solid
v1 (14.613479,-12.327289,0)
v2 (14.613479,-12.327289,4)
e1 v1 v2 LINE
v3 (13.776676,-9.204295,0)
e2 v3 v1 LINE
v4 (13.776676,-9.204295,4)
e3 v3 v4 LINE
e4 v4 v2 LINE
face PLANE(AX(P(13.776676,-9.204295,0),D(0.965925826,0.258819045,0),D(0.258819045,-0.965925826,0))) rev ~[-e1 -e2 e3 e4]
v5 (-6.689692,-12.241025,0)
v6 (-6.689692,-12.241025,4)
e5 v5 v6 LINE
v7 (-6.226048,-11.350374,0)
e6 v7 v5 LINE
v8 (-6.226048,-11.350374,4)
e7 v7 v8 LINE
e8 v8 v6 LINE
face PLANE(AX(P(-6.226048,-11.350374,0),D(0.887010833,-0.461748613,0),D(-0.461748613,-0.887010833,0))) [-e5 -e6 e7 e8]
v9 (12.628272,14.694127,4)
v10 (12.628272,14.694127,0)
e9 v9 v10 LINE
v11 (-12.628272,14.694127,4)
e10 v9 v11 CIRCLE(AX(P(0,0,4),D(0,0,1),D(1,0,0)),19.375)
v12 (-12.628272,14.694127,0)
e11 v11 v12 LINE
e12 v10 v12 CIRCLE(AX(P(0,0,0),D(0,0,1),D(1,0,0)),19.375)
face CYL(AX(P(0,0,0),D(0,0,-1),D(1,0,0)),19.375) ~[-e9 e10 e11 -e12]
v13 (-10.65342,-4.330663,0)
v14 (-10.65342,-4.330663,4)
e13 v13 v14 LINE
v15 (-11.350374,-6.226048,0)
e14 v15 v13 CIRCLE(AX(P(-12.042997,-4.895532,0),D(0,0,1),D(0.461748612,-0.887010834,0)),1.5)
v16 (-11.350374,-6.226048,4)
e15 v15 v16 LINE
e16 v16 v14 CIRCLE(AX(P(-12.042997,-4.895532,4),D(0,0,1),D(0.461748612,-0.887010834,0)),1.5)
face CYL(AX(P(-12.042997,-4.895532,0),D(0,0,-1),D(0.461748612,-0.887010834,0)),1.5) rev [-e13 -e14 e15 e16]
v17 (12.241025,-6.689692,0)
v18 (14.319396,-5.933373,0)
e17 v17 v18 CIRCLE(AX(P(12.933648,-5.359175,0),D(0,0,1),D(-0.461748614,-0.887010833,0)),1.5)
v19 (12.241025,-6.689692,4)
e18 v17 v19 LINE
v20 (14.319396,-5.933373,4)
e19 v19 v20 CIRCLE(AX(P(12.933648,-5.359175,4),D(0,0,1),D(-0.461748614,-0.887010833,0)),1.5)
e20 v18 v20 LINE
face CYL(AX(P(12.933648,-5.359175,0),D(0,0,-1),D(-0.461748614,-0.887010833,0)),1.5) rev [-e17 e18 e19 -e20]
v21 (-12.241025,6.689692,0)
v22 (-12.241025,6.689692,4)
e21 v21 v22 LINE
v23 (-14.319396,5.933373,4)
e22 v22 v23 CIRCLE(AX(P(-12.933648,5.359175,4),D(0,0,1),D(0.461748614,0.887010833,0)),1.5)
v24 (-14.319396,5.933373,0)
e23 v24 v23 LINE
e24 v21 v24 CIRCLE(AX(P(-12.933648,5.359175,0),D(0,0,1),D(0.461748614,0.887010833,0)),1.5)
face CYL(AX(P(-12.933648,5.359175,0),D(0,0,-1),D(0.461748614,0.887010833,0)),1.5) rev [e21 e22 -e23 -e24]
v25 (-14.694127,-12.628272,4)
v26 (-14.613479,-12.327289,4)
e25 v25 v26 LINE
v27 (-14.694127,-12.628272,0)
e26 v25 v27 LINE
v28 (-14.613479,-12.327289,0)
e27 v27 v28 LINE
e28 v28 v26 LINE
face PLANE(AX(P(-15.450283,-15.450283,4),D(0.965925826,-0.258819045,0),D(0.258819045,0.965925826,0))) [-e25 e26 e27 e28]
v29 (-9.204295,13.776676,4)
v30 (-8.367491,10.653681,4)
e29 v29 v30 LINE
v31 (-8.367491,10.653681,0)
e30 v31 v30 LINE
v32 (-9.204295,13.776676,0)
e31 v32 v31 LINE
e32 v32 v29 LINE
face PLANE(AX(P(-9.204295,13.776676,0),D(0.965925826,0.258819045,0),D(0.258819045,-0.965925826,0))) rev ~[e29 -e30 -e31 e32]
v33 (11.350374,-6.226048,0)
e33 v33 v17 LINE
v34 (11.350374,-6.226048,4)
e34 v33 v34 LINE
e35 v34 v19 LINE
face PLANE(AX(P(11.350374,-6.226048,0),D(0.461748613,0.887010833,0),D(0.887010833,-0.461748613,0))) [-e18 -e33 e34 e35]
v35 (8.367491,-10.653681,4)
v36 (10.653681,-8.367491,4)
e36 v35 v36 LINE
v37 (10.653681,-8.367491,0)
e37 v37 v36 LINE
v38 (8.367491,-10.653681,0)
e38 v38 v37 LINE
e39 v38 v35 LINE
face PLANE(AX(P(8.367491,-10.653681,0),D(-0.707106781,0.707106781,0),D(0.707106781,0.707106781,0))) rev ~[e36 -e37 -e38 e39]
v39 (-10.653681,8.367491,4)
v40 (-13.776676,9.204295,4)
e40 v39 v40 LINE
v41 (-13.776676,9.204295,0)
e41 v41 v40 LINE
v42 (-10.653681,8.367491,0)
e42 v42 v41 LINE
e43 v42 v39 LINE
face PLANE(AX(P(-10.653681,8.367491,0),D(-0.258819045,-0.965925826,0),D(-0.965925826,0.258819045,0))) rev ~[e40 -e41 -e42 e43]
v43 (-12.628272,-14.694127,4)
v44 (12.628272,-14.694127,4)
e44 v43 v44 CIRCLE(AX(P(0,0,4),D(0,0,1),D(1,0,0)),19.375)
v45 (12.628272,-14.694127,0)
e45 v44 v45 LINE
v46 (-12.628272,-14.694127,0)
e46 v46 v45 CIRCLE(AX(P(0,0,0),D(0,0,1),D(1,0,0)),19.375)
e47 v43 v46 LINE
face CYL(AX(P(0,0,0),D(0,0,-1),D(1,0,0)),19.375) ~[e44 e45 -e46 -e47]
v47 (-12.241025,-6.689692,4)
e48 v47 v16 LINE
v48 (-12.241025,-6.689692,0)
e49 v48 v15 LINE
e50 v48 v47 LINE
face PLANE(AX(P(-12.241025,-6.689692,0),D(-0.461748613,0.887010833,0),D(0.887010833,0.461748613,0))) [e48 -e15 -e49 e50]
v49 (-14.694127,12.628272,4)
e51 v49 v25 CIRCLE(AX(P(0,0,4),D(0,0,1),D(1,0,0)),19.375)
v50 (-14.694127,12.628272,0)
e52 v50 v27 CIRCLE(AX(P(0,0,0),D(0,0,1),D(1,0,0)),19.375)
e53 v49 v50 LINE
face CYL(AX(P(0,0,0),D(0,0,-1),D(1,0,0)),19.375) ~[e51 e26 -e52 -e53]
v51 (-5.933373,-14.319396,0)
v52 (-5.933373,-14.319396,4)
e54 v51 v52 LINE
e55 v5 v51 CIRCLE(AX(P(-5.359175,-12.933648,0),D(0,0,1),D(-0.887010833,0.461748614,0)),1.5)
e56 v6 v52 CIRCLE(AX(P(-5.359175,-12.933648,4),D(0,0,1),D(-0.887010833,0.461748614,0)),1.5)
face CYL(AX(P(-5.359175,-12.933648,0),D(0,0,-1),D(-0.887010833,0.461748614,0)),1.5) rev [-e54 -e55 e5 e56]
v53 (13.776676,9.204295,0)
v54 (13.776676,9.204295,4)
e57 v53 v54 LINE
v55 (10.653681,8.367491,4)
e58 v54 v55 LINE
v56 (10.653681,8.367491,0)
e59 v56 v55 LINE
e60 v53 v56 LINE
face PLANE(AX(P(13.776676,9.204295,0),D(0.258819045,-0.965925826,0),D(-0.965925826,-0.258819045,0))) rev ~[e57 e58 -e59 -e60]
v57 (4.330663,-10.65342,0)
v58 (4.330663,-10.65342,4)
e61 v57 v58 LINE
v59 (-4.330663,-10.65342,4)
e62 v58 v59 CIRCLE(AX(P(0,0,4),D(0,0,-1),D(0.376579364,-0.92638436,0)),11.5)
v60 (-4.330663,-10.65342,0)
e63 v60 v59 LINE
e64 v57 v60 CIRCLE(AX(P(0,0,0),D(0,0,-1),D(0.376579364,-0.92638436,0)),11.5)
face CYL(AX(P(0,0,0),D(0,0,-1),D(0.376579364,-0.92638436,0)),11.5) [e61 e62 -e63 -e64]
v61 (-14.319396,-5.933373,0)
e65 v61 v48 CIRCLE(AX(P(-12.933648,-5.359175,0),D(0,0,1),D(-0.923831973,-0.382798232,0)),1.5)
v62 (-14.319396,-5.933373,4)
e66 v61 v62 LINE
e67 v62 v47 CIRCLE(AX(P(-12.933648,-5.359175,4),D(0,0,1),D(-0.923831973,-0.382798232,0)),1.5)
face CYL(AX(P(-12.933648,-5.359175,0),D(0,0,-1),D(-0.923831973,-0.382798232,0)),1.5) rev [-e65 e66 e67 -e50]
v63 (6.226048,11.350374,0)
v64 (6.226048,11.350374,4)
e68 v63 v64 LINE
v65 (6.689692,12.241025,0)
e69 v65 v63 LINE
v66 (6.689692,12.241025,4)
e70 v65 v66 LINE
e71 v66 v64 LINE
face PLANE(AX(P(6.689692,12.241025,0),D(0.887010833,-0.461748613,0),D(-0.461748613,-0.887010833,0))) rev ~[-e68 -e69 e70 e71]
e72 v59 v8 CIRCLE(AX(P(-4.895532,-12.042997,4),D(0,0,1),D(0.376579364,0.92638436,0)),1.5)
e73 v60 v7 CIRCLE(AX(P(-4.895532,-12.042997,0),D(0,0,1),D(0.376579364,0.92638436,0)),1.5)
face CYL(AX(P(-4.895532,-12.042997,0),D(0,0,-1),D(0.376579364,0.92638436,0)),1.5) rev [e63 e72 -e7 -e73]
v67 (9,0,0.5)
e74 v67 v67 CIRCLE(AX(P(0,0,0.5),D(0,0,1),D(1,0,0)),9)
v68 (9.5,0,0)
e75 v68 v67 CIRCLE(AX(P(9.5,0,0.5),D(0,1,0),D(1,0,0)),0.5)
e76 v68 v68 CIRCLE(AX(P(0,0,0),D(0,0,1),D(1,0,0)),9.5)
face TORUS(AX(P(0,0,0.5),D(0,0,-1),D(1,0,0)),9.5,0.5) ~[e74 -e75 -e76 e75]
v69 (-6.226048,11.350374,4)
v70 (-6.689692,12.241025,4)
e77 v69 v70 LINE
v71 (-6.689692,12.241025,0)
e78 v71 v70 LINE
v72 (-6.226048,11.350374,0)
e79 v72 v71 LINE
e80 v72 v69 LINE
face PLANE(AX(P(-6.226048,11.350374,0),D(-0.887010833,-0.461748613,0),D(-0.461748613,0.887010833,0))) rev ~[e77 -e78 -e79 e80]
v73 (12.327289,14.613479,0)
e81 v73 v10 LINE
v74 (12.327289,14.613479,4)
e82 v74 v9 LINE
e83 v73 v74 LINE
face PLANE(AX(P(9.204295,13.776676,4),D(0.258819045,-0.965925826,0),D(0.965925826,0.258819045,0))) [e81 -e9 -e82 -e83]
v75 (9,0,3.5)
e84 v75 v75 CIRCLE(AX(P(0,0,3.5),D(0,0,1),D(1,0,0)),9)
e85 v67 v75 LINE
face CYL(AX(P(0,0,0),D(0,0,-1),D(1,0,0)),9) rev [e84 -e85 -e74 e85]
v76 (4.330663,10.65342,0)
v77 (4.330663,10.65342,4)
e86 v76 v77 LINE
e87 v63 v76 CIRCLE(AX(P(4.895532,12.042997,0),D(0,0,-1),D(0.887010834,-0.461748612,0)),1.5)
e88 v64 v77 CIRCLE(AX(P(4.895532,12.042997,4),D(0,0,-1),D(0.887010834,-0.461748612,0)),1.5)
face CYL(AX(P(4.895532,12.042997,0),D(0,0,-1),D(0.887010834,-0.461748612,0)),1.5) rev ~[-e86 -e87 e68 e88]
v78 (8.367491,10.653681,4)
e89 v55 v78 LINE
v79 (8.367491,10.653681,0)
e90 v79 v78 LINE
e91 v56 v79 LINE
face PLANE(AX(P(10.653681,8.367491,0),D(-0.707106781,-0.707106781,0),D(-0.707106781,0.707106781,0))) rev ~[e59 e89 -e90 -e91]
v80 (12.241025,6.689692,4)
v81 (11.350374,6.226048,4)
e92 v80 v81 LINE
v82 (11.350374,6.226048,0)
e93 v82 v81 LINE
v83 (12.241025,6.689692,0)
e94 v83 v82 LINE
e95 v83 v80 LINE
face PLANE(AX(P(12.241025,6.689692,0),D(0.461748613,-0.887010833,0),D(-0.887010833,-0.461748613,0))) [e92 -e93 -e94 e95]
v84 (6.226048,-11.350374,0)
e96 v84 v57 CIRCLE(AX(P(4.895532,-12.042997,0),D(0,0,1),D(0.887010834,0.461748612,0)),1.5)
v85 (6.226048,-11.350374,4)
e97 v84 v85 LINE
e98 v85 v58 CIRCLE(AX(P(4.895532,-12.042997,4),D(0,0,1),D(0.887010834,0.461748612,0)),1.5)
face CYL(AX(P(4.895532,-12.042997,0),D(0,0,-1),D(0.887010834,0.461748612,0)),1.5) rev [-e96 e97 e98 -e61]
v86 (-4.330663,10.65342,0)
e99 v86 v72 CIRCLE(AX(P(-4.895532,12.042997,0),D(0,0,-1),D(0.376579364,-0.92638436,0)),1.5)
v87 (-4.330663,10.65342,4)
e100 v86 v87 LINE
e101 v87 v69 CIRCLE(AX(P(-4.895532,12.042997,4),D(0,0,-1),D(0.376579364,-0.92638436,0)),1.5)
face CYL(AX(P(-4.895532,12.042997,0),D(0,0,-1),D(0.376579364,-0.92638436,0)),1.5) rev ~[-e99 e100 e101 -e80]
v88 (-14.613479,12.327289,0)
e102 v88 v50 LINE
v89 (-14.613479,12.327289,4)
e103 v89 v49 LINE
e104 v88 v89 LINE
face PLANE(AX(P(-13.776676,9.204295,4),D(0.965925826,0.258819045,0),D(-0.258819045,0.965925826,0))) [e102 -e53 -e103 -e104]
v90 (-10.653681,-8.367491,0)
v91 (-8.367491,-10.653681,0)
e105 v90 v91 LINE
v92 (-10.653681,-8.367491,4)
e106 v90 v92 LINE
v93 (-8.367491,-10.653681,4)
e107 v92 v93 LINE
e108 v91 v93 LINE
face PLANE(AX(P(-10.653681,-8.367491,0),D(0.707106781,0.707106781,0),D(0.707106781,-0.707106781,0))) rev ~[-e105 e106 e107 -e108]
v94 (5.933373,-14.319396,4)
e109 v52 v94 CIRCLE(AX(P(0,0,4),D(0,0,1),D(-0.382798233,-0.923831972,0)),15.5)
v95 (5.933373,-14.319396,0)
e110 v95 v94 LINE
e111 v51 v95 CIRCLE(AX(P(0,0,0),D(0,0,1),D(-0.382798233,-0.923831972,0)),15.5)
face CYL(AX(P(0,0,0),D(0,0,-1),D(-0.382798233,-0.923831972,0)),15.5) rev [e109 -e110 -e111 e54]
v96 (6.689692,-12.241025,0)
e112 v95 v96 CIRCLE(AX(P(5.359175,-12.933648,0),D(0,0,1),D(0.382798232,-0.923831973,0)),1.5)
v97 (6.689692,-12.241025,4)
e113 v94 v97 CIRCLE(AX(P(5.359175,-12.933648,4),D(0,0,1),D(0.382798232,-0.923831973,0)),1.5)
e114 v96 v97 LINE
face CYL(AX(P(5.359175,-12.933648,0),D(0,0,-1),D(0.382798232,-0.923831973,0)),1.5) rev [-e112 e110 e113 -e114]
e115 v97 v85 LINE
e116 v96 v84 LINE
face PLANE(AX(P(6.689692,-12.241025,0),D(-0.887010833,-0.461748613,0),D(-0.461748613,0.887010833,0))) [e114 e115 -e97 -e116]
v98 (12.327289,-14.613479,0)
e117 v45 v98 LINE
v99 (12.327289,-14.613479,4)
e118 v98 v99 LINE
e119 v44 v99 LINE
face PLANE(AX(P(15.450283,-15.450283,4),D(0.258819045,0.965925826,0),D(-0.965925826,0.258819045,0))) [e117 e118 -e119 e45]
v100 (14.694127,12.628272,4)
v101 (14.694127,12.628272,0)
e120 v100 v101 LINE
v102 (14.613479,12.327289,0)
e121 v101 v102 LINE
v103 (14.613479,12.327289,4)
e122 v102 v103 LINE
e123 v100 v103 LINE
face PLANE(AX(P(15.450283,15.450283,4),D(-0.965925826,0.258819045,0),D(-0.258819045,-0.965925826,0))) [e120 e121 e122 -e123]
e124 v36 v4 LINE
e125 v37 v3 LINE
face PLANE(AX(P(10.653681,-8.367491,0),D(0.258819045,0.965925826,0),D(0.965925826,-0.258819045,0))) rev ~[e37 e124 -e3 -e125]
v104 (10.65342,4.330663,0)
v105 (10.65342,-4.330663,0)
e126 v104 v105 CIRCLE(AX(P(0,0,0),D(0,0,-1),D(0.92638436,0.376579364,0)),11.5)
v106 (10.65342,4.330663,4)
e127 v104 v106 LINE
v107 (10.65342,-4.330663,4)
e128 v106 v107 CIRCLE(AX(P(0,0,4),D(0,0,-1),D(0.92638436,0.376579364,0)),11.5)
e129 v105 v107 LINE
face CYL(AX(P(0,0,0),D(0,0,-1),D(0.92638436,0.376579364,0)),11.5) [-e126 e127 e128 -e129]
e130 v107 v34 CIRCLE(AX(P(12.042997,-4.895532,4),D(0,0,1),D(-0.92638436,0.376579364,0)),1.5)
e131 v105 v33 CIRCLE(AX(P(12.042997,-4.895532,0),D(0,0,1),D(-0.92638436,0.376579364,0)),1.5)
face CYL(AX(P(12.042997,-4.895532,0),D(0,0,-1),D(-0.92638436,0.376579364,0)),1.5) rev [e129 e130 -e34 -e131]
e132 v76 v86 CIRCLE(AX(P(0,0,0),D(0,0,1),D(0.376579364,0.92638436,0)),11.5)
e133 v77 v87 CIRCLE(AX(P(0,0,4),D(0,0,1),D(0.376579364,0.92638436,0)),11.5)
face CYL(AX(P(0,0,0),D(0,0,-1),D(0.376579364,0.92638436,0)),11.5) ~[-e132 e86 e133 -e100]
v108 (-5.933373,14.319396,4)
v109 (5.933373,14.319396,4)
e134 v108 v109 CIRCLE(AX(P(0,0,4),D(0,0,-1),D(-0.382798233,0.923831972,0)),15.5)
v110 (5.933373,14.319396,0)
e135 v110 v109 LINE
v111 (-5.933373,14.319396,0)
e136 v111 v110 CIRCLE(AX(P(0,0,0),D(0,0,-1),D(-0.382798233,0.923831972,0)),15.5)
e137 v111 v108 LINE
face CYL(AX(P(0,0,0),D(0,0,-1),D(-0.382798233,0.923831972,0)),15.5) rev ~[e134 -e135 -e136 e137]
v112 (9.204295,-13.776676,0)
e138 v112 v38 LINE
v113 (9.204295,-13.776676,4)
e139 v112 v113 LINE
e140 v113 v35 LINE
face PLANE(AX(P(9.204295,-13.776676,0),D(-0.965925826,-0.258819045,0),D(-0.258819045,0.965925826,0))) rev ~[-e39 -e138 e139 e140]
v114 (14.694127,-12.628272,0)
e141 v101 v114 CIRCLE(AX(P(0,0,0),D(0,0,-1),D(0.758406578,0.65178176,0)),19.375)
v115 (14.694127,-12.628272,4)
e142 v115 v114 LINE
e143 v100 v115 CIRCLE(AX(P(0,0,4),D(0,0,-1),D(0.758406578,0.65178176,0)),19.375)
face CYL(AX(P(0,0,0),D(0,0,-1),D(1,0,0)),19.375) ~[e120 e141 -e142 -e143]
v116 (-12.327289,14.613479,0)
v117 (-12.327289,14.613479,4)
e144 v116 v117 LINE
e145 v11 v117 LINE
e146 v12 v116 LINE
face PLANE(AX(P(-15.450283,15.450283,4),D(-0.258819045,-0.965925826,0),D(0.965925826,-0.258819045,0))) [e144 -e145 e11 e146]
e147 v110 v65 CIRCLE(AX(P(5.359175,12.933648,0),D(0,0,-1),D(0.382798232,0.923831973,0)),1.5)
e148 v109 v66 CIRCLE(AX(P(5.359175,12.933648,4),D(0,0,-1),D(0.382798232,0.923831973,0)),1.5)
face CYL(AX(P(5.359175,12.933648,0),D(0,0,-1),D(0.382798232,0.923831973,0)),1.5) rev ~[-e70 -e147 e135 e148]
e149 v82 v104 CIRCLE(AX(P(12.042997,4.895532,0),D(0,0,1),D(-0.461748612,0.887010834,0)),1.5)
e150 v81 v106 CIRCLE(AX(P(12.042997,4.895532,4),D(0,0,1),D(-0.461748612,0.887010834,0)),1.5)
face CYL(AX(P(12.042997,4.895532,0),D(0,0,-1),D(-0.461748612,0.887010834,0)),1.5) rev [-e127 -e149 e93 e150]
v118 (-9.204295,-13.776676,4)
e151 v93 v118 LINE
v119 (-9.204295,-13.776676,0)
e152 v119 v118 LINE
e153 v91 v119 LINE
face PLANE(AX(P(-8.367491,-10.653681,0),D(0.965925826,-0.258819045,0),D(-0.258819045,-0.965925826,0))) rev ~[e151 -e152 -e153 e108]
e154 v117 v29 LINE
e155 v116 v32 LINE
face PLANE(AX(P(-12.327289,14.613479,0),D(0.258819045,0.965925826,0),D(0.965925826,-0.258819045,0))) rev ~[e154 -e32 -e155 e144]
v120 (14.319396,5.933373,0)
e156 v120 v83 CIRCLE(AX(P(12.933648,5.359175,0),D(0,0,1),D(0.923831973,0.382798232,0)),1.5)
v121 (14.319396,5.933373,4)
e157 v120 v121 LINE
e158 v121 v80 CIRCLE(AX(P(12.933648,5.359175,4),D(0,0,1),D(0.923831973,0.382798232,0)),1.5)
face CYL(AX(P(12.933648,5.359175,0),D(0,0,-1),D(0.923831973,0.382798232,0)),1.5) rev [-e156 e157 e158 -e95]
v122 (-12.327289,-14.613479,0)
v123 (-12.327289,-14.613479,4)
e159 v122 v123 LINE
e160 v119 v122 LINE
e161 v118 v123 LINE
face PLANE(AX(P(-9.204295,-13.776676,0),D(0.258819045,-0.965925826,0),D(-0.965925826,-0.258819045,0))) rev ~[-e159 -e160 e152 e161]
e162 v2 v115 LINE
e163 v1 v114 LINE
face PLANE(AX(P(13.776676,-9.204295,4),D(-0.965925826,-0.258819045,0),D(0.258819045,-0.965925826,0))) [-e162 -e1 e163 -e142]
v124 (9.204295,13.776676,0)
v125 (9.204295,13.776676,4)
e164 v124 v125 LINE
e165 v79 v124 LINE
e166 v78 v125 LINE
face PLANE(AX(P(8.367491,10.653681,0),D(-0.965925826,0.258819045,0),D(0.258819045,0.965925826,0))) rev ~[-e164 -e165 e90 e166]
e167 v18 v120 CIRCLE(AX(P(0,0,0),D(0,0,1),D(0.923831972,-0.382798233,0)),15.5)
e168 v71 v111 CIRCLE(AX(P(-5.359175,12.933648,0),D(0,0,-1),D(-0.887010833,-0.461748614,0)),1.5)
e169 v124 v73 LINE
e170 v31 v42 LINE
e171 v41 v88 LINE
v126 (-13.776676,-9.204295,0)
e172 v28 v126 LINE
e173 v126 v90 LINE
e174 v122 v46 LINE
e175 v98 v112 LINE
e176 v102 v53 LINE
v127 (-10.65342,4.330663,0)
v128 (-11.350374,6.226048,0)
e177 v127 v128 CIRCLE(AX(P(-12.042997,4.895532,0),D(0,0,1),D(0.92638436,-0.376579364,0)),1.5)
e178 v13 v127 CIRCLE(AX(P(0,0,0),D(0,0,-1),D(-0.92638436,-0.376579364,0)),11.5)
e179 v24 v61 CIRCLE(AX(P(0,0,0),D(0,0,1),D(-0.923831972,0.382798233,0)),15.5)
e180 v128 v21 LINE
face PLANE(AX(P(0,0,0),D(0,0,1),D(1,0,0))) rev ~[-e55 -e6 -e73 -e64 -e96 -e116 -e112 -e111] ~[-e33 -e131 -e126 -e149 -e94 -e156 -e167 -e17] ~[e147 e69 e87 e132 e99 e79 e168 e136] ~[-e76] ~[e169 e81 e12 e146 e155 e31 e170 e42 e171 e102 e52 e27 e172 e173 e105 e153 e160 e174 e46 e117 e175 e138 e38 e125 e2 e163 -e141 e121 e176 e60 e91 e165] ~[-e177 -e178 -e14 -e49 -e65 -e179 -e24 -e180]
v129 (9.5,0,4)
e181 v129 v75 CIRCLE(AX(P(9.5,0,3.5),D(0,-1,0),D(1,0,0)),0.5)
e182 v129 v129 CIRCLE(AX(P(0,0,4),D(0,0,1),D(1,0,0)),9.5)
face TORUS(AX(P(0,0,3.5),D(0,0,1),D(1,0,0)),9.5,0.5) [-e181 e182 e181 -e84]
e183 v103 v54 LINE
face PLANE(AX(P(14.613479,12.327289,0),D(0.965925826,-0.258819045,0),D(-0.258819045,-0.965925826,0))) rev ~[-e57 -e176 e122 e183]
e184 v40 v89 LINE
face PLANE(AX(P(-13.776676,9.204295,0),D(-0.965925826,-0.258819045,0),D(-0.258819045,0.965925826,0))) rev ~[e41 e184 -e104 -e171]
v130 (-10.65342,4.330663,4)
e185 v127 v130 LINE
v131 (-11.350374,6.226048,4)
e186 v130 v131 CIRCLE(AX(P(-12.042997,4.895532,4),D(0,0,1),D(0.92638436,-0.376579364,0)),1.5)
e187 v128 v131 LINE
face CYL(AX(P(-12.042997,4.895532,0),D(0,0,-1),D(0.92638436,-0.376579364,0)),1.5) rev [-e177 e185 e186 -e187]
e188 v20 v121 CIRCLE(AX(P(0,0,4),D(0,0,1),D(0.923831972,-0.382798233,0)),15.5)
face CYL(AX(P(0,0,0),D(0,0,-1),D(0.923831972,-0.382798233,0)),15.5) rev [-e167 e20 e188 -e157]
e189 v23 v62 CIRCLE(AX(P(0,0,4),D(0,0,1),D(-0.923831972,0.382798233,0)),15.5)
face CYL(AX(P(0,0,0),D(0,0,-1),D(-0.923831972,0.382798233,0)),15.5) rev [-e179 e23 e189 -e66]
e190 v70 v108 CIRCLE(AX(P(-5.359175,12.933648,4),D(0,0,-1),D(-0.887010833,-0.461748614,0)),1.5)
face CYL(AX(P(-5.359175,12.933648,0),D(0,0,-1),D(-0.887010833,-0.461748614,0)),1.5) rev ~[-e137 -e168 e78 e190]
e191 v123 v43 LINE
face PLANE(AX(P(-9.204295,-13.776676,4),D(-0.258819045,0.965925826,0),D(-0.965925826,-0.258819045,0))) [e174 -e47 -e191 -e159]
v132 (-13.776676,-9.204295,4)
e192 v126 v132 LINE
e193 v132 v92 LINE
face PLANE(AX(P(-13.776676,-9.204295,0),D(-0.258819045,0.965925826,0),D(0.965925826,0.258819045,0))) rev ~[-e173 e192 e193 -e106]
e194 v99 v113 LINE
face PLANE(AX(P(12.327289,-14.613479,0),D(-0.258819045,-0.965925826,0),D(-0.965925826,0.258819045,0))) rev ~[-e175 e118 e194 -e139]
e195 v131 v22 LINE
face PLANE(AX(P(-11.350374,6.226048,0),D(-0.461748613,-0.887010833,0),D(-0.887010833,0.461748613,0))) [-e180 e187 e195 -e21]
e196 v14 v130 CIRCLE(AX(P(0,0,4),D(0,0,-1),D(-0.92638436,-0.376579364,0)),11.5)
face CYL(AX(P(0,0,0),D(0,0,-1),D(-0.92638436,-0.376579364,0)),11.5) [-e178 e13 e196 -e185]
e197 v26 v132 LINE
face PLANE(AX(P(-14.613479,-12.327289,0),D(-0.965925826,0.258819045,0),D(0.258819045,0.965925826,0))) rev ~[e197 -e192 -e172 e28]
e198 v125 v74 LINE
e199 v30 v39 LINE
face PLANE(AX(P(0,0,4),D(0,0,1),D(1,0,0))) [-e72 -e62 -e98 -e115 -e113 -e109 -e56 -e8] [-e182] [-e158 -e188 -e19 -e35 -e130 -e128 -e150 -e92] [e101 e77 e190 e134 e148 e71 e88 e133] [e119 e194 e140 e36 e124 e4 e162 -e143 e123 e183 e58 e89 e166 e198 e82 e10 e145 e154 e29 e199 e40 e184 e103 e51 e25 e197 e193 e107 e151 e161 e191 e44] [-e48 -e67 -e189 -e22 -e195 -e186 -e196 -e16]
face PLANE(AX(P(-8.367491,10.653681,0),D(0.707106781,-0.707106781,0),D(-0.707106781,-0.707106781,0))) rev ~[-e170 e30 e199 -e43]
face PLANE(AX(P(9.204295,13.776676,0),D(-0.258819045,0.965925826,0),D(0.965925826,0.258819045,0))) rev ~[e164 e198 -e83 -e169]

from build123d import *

# Parameters (mm, degrees)
SKETCH1_R           = 19.375
SKETCH1_R_2         = 9
BOSS_EXTRUDE1_DEPTH = 4
CUT_EXTRUDE1_DEPTH  = 4
FILLET1_R           = 0.5
CUT_EXTRUDE2_DEPTH  = 10


with BuildPart() as part:
    # Sketch1 → Boss-Extrude1 (new body)
    with BuildSketch(Plane.XY):
        Circle(SKETCH1_R)
        Circle(SKETCH1_R_2, mode=Mode.SUBTRACT)
        with BuildLine():
            Line((6.689691504, 12.241024694), (6.226047976, 11.350373764))
            ThreePointArc((6.226047976, 11.350373764), (5.41320923, 10.635157913), (4.330662681, 10.653420143))
            ThreePointArc((4.330662681, 10.653420143), (0, 11.5), (-4.330662681, 10.653420143))
            ThreePointArc((-4.330662681, 10.653420143), (-5.41320923, 10.635157913), (-6.226047976, 11.350373764))
            Line((-6.226047976, 11.350373764), (-6.689691504, 12.241024694))
            ThreePointArc((-6.689691504, 12.241024694), (-6.768746058, 13.446590252), (-5.933372603, 14.319395572))
            ThreePointArc((-5.933372603, 14.319395572), (0, 15.5), (5.933372603, 14.319395572))
            ThreePointArc((5.933372603, 14.319395572), (6.768746058, 13.446590252), (6.689691504, 12.241024694))
        make_face(mode=Mode.SUBTRACT)
        with BuildLine():
            Line((12.241024694, 6.689691504), (11.350373764, 6.226047976))
            ThreePointArc((11.350373764, 6.226047976), (10.635157913, 5.41320923), (10.653420143, 4.330662681))
            ThreePointArc((10.653420143, 4.330662681), (11.5, 0), (10.653420143, -4.330662681))
            ThreePointArc((10.653420143, -4.330662681), (10.635157913, -5.41320923), (11.350373764, -6.226047976))
            Line((11.350373764, -6.226047976), (12.241024694, -6.689691504))
            ThreePointArc((12.241024694, -6.689691504), (13.446590252, -6.768746058), (14.319395572, -5.933372603))
            ThreePointArc((14.319395572, -5.933372603), (15.5, 0), (14.319395572, 5.933372603))
            ThreePointArc((14.319395572, 5.933372603), (13.446590252, 6.768746058), (12.241024694, 6.689691504))
        make_face(mode=Mode.SUBTRACT)
        with BuildLine():
            Line((6.689691504, -12.241024694), (6.226047976, -11.350373764))
            ThreePointArc((6.226047976, -11.350373764), (5.41320923, -10.635157913), (4.330662681, -10.653420143))
            ThreePointArc((4.330662681, -10.653420143), (0, -11.5), (-4.330662681, -10.653420143))
            ThreePointArc((-4.330662681, -10.653420143), (-5.41320923, -10.635157913), (-6.226047976, -11.350373764))
            Line((-6.226047976, -11.350373764), (-6.689691504, -12.241024694))
            ThreePointArc((-6.689691504, -12.241024694), (-6.768746058, -13.446590252), (-5.933372603, -14.319395572))
            ThreePointArc((-5.933372603, -14.319395572), (0, -15.5), (5.933372603, -14.319395572))
            ThreePointArc((5.933372603, -14.319395572), (6.768746058, -13.446590252), (6.689691504, -12.241024694))
        make_face(mode=Mode.SUBTRACT)
        with BuildLine():
            Line((-12.241024694, -6.689691504), (-11.350373764, -6.226047976))
            ThreePointArc((-11.350373764, -6.226047976), (-10.635157913, -5.41320923), (-10.653420143, -4.330662681))
            ThreePointArc((-10.653420143, -4.330662681), (-11.5, 0), (-10.653420143, 4.330662681))
            ThreePointArc((-10.653420143, 4.330662681), (-10.635157913, 5.41320923), (-11.350373764, 6.226047976))
            Line((-11.350373764, 6.226047976), (-12.241024694, 6.689691504))
            ThreePointArc((-12.241024694, 6.689691504), (-13.446590252, 6.768746058), (-14.319395572, 5.933372603))
            ThreePointArc((-14.319395572, 5.933372603), (-15.5, 0), (-14.319395572, -5.933372603))
            ThreePointArc((-14.319395572, -5.933372603), (-13.446590252, -6.768746058), (-12.241024694, -6.689691504))
        make_face(mode=Mode.SUBTRACT)
    extrude(amount=BOSS_EXTRUDE1_DEPTH)

    # Sketch2 → Cut-Extrude1 (cut)
    with BuildSketch(Plane(origin=(0, 0, 0), x_dir=(-1, 0, 0), z_dir=(0, 0, -1))):
        Polygon((10.65368142, -8.367490994), (8.367490994, -10.65368142), (9.204294768, -13.776675621), (12.327288968, -14.613479395), (14.613479395, -12.327288968), (13.776675621, -9.204294768), align=None)
        Polygon((13.776675621, 9.204294768), (14.613479395, 12.327288968), (12.327288968, 14.613479395), (9.204294768, 13.776675621), (8.367490994, 10.65368142), (10.65368142, 8.367490994), align=None)
        Polygon((-8.367490994, -10.65368142), (-10.65368142, -8.367490994), (-13.776675621, -9.204294768), (-14.613479395, -12.327288968), (-12.327288968, -14.613479395), (-9.204294768, -13.776675621), align=None)
        Polygon((-10.65368142, 8.367490994), (-8.367490994, 10.65368142), (-9.204294768, 13.776675621), (-12.327288968, 14.613479395), (-14.613479395, 12.327288968), (-13.776675621, 9.204294768), align=None)
    extrude(amount=-CUT_EXTRUDE1_DEPTH, mode=Mode.SUBTRACT)

    # Fillet1
    fillet1_edges = [part.edges().sort_by_distance(p)[0] for p in [
        (-9, 0, 0),
        (-9, 0, 4),
    ]]
    fillet(fillet1_edges, radius=FILLET1_R)

    # Sketch3 → Cut-Extrude2 (cut)
    with BuildSketch(Plane.XY.offset(4)):
        Polygon((-13.776675621, 9.204294768), (-15.450283169, 15.450283169), (-9.204294768, 13.776675621), align=None)
        Polygon((9.204294768, 13.776675621), (15.450283169, 15.450283169), (13.776675621, 9.204294768), align=None)
        Polygon((13.776675621, -9.204294768), (15.450283169, -15.450283169), (9.204294768, -13.776675621), align=None)
        Polygon((-9.204294768, -13.776675621), (-15.450283169, -15.450283169), (-13.776675621, -9.204294768), align=None)
    extrude(amount=-CUT_EXTRUDE2_DEPTH, mode=Mode.SUBTRACT)


solid = part.part
